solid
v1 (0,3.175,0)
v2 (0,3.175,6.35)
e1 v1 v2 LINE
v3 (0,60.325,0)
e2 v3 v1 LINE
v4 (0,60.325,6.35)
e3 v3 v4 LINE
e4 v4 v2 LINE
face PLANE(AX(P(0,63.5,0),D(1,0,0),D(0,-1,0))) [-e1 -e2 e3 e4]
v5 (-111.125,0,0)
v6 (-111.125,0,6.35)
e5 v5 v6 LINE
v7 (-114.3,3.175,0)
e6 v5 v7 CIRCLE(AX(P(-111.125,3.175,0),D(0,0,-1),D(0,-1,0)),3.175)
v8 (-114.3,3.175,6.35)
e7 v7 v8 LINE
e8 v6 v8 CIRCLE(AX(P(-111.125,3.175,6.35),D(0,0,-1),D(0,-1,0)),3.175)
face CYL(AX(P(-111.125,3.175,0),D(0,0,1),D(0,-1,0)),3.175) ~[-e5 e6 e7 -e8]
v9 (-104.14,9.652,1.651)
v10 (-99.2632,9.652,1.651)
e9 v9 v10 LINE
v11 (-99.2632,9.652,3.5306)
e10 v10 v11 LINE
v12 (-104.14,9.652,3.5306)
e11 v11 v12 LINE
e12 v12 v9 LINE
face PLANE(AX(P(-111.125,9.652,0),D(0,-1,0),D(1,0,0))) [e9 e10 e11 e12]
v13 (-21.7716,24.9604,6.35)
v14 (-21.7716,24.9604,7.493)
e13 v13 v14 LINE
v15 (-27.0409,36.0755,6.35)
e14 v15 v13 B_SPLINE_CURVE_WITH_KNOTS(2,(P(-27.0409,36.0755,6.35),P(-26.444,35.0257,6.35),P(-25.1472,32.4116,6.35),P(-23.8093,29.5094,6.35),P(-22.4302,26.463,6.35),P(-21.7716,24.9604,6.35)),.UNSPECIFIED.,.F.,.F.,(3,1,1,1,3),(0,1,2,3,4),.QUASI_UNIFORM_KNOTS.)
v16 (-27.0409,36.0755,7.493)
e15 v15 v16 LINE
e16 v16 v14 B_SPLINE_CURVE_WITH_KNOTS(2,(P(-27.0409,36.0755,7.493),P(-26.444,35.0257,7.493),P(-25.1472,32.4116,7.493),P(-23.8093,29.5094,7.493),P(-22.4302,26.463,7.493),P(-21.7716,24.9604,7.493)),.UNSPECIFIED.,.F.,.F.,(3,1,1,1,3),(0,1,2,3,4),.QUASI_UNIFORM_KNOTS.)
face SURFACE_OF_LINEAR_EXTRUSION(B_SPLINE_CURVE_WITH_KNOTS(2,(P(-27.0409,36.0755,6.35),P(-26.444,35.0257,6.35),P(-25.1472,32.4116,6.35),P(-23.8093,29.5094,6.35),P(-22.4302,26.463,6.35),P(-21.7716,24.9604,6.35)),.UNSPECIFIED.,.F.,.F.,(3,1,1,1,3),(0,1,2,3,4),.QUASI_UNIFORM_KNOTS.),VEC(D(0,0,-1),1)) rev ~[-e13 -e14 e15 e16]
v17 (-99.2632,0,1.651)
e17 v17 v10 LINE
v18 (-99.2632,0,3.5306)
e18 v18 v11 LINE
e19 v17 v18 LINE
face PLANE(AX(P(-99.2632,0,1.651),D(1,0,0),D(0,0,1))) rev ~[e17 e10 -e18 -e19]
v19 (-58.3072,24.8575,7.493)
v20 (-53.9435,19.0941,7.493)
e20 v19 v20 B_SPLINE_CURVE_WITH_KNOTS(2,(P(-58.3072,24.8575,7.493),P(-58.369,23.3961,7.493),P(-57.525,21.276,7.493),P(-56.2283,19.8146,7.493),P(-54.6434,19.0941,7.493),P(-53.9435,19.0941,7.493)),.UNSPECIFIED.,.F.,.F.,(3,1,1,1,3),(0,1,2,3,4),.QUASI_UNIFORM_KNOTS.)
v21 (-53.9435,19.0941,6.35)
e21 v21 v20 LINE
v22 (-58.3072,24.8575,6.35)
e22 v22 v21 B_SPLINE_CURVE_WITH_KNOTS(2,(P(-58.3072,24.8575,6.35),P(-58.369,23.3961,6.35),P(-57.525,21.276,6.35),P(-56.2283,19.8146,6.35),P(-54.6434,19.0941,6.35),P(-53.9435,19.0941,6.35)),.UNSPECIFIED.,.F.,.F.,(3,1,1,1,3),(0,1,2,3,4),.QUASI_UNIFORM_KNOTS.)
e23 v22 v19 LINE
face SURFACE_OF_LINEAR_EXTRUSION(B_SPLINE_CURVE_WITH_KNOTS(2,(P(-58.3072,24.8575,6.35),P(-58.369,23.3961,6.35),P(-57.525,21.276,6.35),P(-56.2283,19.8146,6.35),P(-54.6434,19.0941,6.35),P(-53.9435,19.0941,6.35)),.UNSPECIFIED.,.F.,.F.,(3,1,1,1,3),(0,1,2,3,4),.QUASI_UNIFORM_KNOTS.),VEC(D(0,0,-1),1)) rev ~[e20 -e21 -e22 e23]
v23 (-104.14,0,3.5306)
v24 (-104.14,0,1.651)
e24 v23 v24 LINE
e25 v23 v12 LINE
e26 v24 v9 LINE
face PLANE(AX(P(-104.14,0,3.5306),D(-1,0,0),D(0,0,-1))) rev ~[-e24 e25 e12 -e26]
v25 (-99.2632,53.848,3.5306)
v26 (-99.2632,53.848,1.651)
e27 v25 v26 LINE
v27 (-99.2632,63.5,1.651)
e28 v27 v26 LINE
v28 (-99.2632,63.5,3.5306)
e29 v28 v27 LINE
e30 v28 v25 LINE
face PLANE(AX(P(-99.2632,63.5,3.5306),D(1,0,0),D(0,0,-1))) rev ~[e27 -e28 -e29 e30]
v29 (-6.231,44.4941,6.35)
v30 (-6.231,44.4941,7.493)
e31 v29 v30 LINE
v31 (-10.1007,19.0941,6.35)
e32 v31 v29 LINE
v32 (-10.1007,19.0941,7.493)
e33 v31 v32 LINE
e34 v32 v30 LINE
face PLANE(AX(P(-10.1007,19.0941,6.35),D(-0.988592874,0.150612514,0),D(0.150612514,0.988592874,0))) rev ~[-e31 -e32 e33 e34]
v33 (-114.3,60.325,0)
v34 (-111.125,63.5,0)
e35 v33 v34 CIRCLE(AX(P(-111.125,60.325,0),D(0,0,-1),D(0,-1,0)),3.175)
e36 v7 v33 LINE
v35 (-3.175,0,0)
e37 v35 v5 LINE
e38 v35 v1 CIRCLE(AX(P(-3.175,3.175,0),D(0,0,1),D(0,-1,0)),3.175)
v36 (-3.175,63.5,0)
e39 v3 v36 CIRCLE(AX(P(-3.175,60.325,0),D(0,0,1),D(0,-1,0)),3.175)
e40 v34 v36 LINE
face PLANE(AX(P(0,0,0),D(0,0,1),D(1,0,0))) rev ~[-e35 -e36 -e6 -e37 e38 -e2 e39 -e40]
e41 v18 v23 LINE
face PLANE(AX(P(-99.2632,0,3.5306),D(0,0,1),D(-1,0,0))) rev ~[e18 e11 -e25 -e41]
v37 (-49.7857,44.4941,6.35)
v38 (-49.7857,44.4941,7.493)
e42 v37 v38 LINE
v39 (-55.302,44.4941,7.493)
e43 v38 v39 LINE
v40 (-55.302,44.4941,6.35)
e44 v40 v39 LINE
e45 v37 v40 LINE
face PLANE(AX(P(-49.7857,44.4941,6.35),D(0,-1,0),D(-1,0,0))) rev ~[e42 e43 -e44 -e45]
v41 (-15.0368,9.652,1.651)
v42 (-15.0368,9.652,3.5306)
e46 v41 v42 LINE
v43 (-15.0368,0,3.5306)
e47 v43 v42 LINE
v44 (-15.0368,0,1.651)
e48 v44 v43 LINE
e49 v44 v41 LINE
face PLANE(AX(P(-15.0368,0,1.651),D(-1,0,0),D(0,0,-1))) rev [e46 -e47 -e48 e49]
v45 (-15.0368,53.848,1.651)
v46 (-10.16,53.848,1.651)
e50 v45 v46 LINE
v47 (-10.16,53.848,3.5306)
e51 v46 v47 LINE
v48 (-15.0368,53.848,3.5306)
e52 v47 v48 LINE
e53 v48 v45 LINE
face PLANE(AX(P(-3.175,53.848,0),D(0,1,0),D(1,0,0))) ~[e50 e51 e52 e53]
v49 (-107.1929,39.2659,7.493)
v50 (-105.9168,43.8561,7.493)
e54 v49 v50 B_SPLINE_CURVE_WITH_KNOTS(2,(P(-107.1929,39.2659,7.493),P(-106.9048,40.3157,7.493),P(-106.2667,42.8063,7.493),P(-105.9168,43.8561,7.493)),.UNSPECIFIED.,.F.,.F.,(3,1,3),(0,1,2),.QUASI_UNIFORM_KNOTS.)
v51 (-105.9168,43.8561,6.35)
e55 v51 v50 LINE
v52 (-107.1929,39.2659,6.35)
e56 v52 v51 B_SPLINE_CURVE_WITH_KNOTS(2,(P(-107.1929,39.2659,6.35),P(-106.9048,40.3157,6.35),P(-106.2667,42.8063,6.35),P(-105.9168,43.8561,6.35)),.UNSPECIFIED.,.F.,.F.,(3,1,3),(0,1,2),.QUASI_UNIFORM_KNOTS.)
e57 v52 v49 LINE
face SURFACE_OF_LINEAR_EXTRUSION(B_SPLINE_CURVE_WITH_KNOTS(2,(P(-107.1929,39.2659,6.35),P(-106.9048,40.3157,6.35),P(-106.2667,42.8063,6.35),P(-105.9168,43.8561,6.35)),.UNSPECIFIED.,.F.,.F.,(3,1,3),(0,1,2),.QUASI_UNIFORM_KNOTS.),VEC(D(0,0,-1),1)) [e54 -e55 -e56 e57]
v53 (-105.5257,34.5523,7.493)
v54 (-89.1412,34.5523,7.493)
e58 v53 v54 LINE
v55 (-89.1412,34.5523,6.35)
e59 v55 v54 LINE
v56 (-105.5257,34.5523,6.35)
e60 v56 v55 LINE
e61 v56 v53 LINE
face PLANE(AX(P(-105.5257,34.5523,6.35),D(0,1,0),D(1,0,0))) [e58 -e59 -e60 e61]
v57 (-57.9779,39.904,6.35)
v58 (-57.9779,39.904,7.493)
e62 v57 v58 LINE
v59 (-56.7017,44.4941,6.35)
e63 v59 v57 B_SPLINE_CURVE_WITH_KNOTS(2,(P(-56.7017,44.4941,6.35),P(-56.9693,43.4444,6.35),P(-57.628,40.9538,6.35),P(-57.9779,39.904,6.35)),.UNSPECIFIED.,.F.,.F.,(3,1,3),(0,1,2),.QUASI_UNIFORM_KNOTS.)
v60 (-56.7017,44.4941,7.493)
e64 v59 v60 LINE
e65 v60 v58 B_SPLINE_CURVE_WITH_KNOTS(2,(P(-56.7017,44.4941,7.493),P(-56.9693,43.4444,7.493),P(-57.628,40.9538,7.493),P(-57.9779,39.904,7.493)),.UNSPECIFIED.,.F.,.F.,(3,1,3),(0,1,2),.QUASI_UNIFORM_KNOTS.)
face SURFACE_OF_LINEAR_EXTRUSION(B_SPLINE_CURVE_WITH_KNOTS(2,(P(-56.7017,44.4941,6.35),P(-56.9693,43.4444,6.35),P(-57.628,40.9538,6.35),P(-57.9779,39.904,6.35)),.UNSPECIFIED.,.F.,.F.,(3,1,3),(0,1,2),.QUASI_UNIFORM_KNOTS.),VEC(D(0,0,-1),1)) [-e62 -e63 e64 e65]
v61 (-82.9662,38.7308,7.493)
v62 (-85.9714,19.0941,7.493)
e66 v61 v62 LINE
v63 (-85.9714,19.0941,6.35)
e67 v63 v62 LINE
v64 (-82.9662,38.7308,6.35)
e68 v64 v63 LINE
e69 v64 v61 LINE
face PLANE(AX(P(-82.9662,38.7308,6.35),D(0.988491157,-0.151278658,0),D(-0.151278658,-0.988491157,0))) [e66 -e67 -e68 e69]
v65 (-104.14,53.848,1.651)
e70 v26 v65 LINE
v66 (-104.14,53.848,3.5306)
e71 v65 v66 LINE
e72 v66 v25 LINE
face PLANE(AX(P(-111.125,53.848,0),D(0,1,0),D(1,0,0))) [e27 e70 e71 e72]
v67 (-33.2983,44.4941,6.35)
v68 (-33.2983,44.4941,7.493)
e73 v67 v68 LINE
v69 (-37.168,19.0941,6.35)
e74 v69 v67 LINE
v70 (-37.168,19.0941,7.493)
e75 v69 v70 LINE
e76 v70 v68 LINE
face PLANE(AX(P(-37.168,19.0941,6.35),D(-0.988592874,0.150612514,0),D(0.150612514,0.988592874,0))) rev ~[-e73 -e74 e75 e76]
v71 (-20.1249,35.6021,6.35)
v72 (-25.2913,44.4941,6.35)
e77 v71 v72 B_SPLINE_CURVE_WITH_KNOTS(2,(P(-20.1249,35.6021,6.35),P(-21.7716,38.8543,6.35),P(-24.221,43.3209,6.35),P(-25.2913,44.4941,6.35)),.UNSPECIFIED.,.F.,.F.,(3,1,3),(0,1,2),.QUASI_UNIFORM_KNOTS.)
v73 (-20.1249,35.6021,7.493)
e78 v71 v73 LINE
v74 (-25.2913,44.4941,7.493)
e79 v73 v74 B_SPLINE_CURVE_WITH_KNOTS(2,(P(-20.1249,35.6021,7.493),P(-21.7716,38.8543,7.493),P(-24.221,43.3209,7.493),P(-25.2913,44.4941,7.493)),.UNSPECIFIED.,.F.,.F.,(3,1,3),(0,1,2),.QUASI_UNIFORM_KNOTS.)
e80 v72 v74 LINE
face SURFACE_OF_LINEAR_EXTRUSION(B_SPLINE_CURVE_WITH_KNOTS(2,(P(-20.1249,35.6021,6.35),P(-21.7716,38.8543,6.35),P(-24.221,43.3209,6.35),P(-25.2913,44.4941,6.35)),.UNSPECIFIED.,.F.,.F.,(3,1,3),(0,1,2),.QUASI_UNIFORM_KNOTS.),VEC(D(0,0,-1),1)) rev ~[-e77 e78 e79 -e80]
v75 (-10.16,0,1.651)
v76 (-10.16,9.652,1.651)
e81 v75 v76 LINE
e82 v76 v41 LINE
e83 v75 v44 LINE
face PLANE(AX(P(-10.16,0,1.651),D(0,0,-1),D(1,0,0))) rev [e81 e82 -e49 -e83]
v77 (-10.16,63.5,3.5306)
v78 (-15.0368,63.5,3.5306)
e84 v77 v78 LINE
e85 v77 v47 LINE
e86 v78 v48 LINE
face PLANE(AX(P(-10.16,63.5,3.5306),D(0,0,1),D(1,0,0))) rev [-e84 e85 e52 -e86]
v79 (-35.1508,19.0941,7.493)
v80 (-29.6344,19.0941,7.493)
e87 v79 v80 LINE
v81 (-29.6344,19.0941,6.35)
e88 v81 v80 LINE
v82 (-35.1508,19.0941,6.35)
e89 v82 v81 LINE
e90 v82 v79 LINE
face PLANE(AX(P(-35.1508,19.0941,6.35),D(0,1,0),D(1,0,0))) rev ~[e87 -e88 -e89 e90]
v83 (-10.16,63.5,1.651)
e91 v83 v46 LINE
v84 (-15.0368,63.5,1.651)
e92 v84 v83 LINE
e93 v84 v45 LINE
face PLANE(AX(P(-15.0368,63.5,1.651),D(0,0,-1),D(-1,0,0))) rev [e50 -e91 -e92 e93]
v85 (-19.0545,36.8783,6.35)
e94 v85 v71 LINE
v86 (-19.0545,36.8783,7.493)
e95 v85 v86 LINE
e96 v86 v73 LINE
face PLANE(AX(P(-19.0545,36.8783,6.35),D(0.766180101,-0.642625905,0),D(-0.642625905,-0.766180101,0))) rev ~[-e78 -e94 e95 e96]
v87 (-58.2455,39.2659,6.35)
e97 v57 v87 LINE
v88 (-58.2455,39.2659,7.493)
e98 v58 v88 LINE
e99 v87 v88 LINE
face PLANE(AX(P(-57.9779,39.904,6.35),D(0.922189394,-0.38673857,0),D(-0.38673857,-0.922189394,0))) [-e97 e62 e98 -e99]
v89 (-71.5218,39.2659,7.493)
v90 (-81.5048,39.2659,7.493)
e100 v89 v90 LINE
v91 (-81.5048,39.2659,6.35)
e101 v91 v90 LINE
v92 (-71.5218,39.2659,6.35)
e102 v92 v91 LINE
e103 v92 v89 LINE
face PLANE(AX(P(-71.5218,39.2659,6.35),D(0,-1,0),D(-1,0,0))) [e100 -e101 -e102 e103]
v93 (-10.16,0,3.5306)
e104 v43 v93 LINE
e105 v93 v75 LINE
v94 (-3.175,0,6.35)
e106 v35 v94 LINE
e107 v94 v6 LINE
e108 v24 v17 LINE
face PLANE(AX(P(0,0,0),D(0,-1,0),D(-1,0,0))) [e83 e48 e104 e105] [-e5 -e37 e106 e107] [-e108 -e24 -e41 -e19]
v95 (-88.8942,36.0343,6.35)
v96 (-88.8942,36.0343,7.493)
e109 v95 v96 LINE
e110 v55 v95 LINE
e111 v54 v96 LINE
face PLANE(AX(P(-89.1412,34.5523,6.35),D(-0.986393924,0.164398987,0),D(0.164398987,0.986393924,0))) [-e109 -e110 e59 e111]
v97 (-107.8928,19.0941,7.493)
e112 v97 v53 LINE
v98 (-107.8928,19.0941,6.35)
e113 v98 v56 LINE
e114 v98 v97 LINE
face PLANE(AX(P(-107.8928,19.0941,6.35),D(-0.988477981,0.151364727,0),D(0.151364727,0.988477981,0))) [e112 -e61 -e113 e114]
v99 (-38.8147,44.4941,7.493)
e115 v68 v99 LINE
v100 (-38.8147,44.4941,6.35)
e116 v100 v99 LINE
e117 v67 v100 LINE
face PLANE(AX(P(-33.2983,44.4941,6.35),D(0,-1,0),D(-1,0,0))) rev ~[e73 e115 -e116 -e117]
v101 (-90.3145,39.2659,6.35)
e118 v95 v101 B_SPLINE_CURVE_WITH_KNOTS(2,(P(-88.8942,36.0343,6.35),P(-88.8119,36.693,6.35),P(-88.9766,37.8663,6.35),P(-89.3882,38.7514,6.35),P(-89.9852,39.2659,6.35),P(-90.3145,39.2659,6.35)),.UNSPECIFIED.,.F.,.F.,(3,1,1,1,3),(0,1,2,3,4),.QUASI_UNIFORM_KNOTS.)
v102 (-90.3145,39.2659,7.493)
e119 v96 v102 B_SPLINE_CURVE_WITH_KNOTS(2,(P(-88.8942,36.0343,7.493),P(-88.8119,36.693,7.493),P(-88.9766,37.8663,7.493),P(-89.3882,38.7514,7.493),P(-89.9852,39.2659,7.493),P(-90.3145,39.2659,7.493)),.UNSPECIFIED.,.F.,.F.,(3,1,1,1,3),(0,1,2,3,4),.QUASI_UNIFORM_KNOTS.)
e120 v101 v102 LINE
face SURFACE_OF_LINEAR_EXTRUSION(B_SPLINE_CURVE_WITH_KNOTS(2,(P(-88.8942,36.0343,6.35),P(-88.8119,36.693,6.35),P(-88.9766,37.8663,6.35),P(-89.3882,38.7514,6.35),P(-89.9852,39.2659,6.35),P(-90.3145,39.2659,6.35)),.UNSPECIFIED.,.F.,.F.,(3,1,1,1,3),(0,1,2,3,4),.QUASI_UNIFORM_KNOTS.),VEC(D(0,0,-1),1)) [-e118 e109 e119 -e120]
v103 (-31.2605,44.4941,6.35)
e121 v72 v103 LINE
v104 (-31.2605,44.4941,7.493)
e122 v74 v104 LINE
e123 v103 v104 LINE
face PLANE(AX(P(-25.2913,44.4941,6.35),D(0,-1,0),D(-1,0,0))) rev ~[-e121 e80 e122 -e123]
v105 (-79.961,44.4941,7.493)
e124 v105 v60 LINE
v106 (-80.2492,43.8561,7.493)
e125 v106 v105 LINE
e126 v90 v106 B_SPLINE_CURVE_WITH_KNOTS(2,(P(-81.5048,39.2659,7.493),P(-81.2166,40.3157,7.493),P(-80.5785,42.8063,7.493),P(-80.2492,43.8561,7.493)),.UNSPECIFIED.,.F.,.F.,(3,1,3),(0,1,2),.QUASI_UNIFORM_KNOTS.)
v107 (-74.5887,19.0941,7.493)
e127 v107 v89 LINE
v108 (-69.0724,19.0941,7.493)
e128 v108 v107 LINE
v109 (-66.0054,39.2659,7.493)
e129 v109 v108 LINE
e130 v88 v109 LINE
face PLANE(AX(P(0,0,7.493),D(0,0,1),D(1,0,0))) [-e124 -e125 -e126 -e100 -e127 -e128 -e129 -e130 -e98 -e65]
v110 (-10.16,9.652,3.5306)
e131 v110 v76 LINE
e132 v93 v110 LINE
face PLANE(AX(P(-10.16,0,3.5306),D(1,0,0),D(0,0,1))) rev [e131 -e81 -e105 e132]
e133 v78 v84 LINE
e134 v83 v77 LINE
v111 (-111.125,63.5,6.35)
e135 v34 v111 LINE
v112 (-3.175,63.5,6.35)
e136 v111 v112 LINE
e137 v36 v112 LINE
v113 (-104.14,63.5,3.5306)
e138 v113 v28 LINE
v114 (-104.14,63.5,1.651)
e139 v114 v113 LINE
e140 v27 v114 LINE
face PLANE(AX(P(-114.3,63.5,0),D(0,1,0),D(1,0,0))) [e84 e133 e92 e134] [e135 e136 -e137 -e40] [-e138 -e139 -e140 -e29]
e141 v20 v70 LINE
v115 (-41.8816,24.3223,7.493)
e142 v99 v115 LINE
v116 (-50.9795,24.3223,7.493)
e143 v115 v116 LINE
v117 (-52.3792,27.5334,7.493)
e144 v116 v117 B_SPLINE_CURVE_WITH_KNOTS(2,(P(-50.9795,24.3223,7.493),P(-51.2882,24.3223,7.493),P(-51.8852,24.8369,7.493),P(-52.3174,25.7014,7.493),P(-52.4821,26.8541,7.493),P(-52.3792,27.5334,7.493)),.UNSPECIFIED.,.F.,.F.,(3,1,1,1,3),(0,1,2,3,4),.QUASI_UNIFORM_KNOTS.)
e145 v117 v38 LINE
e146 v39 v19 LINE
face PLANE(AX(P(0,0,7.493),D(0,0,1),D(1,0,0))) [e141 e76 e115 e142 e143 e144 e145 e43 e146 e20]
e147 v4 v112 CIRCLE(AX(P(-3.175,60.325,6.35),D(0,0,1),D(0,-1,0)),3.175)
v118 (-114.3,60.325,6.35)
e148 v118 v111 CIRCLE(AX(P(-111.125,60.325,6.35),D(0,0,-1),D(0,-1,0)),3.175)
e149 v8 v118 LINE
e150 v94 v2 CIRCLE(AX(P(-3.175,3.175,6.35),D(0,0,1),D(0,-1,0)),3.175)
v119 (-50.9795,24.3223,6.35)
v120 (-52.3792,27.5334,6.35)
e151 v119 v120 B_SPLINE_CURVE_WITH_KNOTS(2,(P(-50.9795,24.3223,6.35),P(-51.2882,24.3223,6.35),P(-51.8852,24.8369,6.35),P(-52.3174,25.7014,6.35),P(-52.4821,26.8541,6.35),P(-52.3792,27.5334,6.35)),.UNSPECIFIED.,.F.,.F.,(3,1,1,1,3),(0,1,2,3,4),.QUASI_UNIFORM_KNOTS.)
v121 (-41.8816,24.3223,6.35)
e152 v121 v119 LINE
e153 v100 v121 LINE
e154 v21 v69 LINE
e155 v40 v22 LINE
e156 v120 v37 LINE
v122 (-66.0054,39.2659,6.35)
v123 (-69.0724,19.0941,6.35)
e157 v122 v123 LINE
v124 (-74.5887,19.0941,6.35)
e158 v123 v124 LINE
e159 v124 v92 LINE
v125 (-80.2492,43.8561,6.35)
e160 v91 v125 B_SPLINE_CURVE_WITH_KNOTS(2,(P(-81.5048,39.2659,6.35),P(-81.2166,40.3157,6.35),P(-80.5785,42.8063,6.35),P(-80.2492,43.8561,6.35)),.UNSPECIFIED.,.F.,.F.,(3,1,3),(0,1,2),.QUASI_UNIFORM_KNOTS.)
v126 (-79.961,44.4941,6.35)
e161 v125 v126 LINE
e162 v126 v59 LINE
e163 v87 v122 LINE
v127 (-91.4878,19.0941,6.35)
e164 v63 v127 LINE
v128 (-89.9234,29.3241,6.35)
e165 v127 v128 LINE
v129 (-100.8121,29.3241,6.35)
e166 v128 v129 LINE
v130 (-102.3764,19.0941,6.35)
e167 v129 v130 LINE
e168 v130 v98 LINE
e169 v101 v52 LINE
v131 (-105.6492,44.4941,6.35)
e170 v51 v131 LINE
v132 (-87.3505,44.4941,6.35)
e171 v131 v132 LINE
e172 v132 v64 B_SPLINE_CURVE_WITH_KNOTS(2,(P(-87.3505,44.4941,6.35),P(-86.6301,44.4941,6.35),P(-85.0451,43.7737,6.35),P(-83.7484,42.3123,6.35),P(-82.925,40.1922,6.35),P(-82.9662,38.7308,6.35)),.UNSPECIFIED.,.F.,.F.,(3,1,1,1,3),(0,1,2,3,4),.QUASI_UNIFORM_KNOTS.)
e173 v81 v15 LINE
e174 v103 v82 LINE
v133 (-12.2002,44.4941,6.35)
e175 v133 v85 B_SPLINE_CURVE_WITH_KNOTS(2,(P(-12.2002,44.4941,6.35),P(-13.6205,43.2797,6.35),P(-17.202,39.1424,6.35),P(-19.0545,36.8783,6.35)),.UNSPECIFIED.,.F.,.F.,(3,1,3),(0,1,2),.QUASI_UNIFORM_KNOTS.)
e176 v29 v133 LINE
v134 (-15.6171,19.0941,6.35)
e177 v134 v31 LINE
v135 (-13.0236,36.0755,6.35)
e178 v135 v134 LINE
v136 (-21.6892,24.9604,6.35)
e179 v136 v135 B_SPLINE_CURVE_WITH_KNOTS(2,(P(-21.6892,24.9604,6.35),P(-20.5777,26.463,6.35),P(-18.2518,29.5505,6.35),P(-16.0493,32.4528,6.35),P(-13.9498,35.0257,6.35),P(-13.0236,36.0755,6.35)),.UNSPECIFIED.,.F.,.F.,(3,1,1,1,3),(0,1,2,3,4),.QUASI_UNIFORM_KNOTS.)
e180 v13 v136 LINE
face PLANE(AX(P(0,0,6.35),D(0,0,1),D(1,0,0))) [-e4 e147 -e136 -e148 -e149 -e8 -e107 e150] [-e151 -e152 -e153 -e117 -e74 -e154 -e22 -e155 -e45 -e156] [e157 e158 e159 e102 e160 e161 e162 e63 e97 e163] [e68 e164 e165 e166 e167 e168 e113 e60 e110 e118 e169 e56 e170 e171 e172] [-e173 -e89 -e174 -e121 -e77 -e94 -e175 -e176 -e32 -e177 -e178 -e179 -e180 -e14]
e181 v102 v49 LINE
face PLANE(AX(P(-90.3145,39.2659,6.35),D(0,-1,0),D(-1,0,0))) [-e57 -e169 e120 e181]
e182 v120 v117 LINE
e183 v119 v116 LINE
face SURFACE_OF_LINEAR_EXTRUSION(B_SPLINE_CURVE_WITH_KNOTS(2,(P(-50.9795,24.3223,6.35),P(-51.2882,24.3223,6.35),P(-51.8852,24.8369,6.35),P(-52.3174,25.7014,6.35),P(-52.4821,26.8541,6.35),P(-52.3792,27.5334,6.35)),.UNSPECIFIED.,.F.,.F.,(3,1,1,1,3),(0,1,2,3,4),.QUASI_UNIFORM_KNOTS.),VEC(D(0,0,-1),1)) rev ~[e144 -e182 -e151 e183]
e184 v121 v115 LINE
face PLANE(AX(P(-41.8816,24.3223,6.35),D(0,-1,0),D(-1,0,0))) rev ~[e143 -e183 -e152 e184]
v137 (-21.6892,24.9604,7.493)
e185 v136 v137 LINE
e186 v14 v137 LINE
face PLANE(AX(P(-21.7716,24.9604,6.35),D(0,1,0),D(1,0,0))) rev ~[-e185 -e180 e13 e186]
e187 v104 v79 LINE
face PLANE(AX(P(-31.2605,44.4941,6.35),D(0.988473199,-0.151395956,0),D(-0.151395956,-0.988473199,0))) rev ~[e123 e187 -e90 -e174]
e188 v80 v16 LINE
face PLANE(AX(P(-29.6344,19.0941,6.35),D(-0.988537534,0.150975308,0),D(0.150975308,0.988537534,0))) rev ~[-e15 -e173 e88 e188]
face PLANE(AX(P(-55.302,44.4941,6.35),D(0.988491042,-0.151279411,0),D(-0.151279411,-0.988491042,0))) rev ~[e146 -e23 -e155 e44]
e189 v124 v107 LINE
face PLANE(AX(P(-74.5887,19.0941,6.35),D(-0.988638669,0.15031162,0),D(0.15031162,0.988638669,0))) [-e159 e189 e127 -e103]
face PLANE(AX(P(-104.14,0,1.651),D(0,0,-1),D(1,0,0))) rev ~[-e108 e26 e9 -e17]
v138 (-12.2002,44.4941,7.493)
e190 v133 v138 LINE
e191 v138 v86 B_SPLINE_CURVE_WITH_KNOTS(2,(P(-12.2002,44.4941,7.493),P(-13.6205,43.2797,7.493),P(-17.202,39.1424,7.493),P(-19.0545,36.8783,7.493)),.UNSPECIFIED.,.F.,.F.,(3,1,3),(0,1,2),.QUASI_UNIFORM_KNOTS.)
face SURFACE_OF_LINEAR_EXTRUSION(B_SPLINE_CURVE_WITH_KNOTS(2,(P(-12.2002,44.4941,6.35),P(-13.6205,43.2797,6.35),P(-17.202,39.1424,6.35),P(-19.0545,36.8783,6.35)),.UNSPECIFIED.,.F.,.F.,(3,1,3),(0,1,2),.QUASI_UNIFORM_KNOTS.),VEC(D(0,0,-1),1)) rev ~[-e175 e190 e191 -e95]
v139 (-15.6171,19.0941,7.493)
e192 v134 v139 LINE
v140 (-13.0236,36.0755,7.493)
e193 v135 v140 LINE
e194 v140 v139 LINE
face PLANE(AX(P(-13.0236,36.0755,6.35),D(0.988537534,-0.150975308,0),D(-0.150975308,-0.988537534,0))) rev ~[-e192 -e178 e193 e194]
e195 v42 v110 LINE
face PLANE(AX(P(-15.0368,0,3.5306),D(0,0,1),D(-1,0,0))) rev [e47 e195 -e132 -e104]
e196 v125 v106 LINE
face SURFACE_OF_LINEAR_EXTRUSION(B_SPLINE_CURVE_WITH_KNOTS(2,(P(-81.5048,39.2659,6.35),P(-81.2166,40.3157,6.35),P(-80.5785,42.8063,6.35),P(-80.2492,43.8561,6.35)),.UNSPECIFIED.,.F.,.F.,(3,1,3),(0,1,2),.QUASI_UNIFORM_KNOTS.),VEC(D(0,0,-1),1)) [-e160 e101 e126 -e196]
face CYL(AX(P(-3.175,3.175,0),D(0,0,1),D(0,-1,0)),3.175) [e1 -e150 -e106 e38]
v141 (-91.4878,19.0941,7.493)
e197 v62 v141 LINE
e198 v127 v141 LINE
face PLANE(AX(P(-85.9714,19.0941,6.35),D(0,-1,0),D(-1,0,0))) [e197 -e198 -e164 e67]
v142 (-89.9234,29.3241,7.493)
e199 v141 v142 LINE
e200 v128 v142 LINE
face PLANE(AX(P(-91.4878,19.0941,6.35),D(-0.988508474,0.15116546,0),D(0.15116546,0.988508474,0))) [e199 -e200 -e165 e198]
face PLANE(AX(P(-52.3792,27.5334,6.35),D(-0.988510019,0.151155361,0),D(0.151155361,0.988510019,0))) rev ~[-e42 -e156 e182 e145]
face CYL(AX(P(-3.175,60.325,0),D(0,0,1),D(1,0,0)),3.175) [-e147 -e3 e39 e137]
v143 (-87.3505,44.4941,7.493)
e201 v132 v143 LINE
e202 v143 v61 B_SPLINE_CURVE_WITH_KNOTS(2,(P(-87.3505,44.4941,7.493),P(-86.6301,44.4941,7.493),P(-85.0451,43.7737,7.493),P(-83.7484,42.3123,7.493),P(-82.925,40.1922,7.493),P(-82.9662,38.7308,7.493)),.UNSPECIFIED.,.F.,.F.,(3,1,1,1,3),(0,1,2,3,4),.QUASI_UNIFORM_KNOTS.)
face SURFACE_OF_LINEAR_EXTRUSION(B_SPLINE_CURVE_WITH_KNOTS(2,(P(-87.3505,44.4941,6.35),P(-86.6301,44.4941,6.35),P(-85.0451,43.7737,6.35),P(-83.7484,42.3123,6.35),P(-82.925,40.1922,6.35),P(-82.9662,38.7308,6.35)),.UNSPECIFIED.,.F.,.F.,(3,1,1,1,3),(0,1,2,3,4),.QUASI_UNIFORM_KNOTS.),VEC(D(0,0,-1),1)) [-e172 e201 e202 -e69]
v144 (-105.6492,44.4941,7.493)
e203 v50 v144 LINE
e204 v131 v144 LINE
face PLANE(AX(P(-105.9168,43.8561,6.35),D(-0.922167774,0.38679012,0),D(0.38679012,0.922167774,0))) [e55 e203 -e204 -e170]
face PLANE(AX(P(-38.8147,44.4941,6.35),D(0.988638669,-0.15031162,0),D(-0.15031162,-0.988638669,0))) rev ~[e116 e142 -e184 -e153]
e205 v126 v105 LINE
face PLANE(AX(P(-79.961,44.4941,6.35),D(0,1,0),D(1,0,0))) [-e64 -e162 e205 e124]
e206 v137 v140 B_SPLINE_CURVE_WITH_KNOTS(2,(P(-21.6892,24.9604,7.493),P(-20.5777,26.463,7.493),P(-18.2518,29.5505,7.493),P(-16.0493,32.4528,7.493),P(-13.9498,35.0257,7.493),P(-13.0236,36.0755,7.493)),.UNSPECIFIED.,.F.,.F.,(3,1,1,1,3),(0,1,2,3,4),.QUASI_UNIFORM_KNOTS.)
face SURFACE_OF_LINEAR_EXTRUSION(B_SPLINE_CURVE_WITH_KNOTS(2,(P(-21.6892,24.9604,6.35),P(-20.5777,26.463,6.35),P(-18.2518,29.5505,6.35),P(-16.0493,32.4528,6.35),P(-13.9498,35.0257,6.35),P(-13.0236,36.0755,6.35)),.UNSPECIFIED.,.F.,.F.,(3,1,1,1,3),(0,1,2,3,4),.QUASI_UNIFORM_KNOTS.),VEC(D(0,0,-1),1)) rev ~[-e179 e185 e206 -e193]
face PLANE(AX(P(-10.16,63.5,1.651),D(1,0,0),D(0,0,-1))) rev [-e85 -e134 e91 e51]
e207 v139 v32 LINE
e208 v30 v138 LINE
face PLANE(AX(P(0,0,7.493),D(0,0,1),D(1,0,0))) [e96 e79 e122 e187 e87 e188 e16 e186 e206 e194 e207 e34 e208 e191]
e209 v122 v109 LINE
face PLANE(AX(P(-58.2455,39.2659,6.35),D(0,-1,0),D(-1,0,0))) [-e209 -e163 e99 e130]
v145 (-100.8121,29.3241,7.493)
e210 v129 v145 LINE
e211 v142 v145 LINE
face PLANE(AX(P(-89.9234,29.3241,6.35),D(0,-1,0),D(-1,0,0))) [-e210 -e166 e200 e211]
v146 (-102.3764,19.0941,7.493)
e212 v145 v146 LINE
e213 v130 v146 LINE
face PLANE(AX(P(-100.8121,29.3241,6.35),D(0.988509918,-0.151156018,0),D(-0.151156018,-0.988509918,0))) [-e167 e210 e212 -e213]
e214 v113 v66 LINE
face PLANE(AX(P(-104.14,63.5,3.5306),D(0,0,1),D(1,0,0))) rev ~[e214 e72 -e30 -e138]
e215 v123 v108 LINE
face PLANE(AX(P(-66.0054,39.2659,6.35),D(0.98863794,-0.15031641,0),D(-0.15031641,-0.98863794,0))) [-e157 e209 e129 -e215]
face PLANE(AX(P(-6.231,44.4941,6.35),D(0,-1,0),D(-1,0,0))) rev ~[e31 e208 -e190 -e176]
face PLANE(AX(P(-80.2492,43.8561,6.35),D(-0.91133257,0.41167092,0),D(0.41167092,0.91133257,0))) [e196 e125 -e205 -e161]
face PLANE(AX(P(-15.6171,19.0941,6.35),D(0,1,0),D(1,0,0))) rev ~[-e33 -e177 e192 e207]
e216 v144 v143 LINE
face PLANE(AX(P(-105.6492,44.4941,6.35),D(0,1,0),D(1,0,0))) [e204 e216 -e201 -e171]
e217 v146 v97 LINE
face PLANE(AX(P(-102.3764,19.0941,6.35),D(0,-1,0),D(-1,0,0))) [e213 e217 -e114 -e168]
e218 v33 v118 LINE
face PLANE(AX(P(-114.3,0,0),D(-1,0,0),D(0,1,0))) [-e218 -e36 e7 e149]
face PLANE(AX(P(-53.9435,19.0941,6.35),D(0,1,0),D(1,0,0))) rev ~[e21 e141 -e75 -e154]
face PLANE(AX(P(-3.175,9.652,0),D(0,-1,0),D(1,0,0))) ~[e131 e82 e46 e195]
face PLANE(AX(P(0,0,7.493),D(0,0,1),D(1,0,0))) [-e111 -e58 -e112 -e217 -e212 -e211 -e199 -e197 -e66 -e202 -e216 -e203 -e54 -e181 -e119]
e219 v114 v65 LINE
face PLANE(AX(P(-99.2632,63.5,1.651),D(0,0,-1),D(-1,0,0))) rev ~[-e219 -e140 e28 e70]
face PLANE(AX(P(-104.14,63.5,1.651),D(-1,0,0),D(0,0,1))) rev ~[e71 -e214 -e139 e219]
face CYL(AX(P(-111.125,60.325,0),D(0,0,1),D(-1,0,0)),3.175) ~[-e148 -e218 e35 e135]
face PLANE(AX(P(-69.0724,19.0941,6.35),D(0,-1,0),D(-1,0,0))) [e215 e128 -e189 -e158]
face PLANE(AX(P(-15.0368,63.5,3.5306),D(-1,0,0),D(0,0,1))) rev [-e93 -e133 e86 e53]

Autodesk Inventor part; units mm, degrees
ref_plane "YZ Plane" through (0, 0, 0) normal (1, 0, 0) x (0, 1, 0)
ref_plane "XZ Plane" through (0, 0, 0) normal (0, 1, 0) x (-1, 0, 0)
sketch "Sketch1" plane through (0, 0, 0) normal (0, 0, 1) x (1, 0, 0)
  line L0 (0, 0) -> (-114.3, 0)
  line L1 (-114.3, 0) -> (-114.3, 63.5)
  line L2 (-114.3, 63.5) -> (0, 63.5)
  line L3 (0, 63.5) -> (0, 0)
  dimension "d7" = 114.3
  dimension "d8" = 63.5
extrude "Extrusion1" add sketch "Sketch1" along normal blind 6.35
sketch "Sketch2" plane through (0, 0, 6.35) normal (0, 0, 1) x (1, 0, 0)
  line L0 (0, 0) -> (0, 63.5) projected
  line L1 (-114.3, 63.5) -> (-114.3, 0) projected
  line L2 (-114.3, 0) -> (0, 0) projected
  line L3 (0, 63.5) -> (-114.3, 63.5) projected
sketch "Sketch3" plane through (0, 0, 6.35) normal (0, 0, 1) x (1, 0, 0)
  line L0 (-110.6716, 35.2666) -> (-52.0005, 35.2666) construction
  line L1 (-52.0005, 35.2666) -> (-52.0005, 28.3217) construction
  line L2 (-52.0005, 28.3217) -> (-110.6716, 28.3217) construction
  line L3 (-110.6716, 28.3217) -> (-110.6716, 35.2666) construction
  line L4 (-114.3, 63.5) -> (-114.3, 0) projected
  line L5 (-107.8928, 19.0941) -> (-105.5257, 34.5523)
  line L6 (-105.5257, 34.5523) -> (-89.1412, 34.5523)
  line L7 (-89.1412, 34.5523) -> (-88.8942, 36.0343)
  spline S0 degree 2 poles (-88.8942, 36.0343) (-88.8119, 36.693) (-88.9766, 37.8663) (-89.3882, 38.7514) (-89.9852, 39.2659) (-90.3145, 39.2659) knots 0 0 0 1 2 3 4 4 4
  line L8 (-90.3145, 39.2659) -> (-107.1929, 39.2659)
  spline S1 degree 2 poles (-107.1929, 39.2659) (-106.9048, 40.3157) (-106.2667, 42.8063) (-105.9168, 43.8561) knots 0 0 0 1 2 2 2
  line L9 (-105.9168, 43.8561) -> (-105.6492, 44.4941)
  line L10 (-105.6492, 44.4941) -> (-87.3505, 44.4941)
  spline S2 degree 2 poles (-87.3505, 44.4941) (-86.6301, 44.4941) (-85.0451, 43.7737) (-83.7484, 42.3123) (-82.925, 40.1922) (-82.9662, 38.7308) knots 0 0 0 1 2 3 4 4 4
  line L11 (-82.9662, 38.7308) -> (-85.9714, 19.0941)
  line L12 (-85.9714, 19.0941) -> (-91.4878, 19.0941)
  line L13 (-91.4878, 19.0941) -> (-89.9234, 29.3241)
  line L14 (-89.9234, 29.3241) -> (-100.8121, 29.3241)
  line L15 (-100.8121, 29.3241) -> (-102.3764, 19.0941)
  line L16 (-102.3764, 19.0941) -> (-107.8928, 19.0941)
  spline S3 degree 2 poles (-81.5048, 39.2659) (-81.2166, 40.3157) (-80.5785, 42.8063) (-80.2492, 43.8561) knots 0 0 0 1 2 2 2
  line L17 (-80.2492, 43.8561) -> (-79.961, 44.4941)
  line L18 (-79.961, 44.4941) -> (-56.7017, 44.4941)
  spline S4 degree 2 poles (-56.7017, 44.4941) (-56.9693, 43.4444) (-57.628, 40.9538) (-57.9779, 39.904) knots 0 0 0 1 2 2 2
  line L19 (-57.9779, 39.904) -> (-58.2455, 39.2659)
  line L20 (-58.2455, 39.2659) -> (-66.0054, 39.2659)
  line L21 (-66.0054, 39.2659) -> (-69.0724, 19.0941)
  line L22 (-69.0724, 19.0941) -> (-74.5887, 19.0941)
  line L23 (-74.5887, 19.0941) -> (-71.5218, 39.2659)
  line L24 (-71.5218, 39.2659) -> (-81.5048, 39.2659)
  spline S5 degree 2 poles (-58.3072, 24.8575) (-58.369, 23.3961) (-57.525, 21.276) (-56.2283, 19.8146) (-54.6434, 19.0941) (-53.9435, 19.0941) knots 0 0 0 1 2 3 4 4 4
  line L25 (-53.9435, 19.0941) -> (-37.168, 19.0941)
  line L26 (-37.168, 19.0941) -> (-33.2983, 44.4941)
  line L27 (-33.2983, 44.4941) -> (-38.8147, 44.4941)
  line L28 (-38.8147, 44.4941) -> (-41.8816, 24.3223)
  line L29 (-41.8816, 24.3223) -> (-50.9795, 24.3223)
  spline S6 degree 2 poles (-50.9795, 24.3223) (-51.2882, 24.3223) (-51.8852, 24.8369) (-52.3174, 25.7014) (-52.4821, 26.8541) (-52.3792, 27.5334) knots 0 0 0 1 2 3 4 4 4
  line L30 (-52.3792, 27.5334) -> (-49.7857, 44.4941)
  line L31 (-49.7857, 44.4941) -> (-55.302, 44.4941)
  line L32 (-55.302, 44.4941) -> (-58.3072, 24.8575)
  line L33 (-31.2605, 44.4941) -> (-35.1508, 19.0941)
  line L34 (-35.1508, 19.0941) -> (-29.6344, 19.0941)
  line L35 (-29.6344, 19.0941) -> (-27.0409, 36.0755)
  spline S7 degree 2 poles (-27.0409, 36.0755) (-26.444, 35.0257) (-25.1472, 32.4116) (-23.8093, 29.5094) (-22.4302, 26.463) (-21.7716, 24.9604) knots 0 0 0 1 2 3 4 4 4
  line L36 (-21.7716, 24.9604) -> (-21.6892, 24.9604)
  spline S8 degree 2 poles (-21.6892, 24.9604) (-20.5777, 26.463) (-18.2518, 29.5505) (-16.0493, 32.4528) (-13.9498, 35.0257) (-13.0236, 36.0755) knots 0 0 0 1 2 3 4 4 4
  line L37 (-13.0236, 36.0755) -> (-15.6171, 19.0941)
  line L38 (-15.6171, 19.0941) -> (-10.1007, 19.0941)
  line L39 (-10.1007, 19.0941) -> (-6.231, 44.4941)
  line L40 (-6.231, 44.4941) -> (-12.2002, 44.4941)
  spline S9 degree 2 poles (-12.2002, 44.4941) (-13.6205, 43.2797) (-17.202, 39.1424) (-19.0545, 36.8783) knots 0 0 0 1 2 2 2
  line L41 (-19.0545, 36.8783) -> (-20.1249, 35.6021)
  spline S10 degree 2 poles (-20.1249, 35.6021) (-21.7716, 38.8543) (-24.221, 43.3209) (-25.2913, 44.4941) knots 0 0 0 1 2 2 2
  line L42 (-25.2913, 44.4941) -> (-31.2605, 44.4941)
  point P0 (0, 0)
extrude "Extrusion2" add sketch "Sketch3" along normal blind 1.143
fillet "Fillet2" radius 3.175 4 edges at (-114.3, 63.5, 3.175) (-114.3, 0, 3.175) (0, 0, 3.175) (0, 63.5, 3.175)
sketch "Sketch4" plane through (0, 0, 6.35) normal (0, 0, 1) x (1, 0, 0)
  point P0 (0, 0)
sketch "Sketch5" plane through (0, 0, 6.35) normal (0, 0, 1) x (1, 0, 0)
  point P0 (0, 0)
sketch "Sketch6" plane through (0, 0, 6.35) normal (0, 0, 1) x (1, 0, 0)
  point P0 (0, 0)
ref_plane "Work Plane1" through (-57.15, 3.175, 0) normal (1, 0, 0) x (0, 0, -1)
sketch "Sketch7" plane through (-111.125, 63.5, 0) normal (0, 1, 0) x (1, 0, 0)
  line L0 (107.95, -6.35) -> (0, -6.35) projected
  line L1 (107.95, 0) -> (0, 0) projected
  line L2 (0, -6.35) -> (0, -3.175)
  line L3 (0, -6.35) -> (0, 0) projected
  line L4 (0, 0) -> (0, -6.35) projected
  line L5 (0, -6.35) -> (0, -3.5306)
  line L6 (0, -3.5306) -> (6.985, -3.5306)
  line L7 (6.985, -3.5306) -> (11.8618, -3.5306)
  line L8 (11.8618, -3.5306) -> (11.8618, -1.651)
  line L9 (11.8618, -1.651) -> (6.985, -1.651)
  line L10 (6.985, -1.651) -> (6.985, -3.5306)
  point P0 (111.125, 0)
  dimension "d24" = 4.8768
  dimension "d25" = 1.8796
  dimension "d26" = 2.8194
  dimension "d27" = 6.985
extrude "Extrusion3" cut sketch "Sketch7" against normal blind 9.652
sketch "Sketch8" plane through (-111.125, 0, 0) normal (0, -1, 0) x (1, 0, 0)
  line L0 (0, 0) -> (0, 6.35) projected
  line L1 (6.985, 3.5306) -> (6.985, 1.651) projected
  line L2 (11.8618, 1.651) -> (11.8618, 3.5306) projected
  line L3 (6.985, 1.651) -> (11.8618, 1.651)
  line L4 (11.8618, 1.651) -> (11.8618, 3.5306)
  line L5 (11.8618, 3.5306) -> (6.985, 3.5306)
  line L6 (6.985, 3.5306) -> (6.985, 1.651)
  line L7 (0, 0) -> (107.95, 0) projected
  point P0 (111.125, 0)
extrude "Extrusion4" cut sketch "Sketch8" against normal blind 9.652
mirror "Mirror1" about plane through (-57.15, 3.175, 0) normal (1, 0, 0) of "Extrusion3"
mirror "Mirror2" about plane through (-57.15, 3.175, 0) normal (1, 0, 0) of "Extrusion4"
properties part number "custom plate"
